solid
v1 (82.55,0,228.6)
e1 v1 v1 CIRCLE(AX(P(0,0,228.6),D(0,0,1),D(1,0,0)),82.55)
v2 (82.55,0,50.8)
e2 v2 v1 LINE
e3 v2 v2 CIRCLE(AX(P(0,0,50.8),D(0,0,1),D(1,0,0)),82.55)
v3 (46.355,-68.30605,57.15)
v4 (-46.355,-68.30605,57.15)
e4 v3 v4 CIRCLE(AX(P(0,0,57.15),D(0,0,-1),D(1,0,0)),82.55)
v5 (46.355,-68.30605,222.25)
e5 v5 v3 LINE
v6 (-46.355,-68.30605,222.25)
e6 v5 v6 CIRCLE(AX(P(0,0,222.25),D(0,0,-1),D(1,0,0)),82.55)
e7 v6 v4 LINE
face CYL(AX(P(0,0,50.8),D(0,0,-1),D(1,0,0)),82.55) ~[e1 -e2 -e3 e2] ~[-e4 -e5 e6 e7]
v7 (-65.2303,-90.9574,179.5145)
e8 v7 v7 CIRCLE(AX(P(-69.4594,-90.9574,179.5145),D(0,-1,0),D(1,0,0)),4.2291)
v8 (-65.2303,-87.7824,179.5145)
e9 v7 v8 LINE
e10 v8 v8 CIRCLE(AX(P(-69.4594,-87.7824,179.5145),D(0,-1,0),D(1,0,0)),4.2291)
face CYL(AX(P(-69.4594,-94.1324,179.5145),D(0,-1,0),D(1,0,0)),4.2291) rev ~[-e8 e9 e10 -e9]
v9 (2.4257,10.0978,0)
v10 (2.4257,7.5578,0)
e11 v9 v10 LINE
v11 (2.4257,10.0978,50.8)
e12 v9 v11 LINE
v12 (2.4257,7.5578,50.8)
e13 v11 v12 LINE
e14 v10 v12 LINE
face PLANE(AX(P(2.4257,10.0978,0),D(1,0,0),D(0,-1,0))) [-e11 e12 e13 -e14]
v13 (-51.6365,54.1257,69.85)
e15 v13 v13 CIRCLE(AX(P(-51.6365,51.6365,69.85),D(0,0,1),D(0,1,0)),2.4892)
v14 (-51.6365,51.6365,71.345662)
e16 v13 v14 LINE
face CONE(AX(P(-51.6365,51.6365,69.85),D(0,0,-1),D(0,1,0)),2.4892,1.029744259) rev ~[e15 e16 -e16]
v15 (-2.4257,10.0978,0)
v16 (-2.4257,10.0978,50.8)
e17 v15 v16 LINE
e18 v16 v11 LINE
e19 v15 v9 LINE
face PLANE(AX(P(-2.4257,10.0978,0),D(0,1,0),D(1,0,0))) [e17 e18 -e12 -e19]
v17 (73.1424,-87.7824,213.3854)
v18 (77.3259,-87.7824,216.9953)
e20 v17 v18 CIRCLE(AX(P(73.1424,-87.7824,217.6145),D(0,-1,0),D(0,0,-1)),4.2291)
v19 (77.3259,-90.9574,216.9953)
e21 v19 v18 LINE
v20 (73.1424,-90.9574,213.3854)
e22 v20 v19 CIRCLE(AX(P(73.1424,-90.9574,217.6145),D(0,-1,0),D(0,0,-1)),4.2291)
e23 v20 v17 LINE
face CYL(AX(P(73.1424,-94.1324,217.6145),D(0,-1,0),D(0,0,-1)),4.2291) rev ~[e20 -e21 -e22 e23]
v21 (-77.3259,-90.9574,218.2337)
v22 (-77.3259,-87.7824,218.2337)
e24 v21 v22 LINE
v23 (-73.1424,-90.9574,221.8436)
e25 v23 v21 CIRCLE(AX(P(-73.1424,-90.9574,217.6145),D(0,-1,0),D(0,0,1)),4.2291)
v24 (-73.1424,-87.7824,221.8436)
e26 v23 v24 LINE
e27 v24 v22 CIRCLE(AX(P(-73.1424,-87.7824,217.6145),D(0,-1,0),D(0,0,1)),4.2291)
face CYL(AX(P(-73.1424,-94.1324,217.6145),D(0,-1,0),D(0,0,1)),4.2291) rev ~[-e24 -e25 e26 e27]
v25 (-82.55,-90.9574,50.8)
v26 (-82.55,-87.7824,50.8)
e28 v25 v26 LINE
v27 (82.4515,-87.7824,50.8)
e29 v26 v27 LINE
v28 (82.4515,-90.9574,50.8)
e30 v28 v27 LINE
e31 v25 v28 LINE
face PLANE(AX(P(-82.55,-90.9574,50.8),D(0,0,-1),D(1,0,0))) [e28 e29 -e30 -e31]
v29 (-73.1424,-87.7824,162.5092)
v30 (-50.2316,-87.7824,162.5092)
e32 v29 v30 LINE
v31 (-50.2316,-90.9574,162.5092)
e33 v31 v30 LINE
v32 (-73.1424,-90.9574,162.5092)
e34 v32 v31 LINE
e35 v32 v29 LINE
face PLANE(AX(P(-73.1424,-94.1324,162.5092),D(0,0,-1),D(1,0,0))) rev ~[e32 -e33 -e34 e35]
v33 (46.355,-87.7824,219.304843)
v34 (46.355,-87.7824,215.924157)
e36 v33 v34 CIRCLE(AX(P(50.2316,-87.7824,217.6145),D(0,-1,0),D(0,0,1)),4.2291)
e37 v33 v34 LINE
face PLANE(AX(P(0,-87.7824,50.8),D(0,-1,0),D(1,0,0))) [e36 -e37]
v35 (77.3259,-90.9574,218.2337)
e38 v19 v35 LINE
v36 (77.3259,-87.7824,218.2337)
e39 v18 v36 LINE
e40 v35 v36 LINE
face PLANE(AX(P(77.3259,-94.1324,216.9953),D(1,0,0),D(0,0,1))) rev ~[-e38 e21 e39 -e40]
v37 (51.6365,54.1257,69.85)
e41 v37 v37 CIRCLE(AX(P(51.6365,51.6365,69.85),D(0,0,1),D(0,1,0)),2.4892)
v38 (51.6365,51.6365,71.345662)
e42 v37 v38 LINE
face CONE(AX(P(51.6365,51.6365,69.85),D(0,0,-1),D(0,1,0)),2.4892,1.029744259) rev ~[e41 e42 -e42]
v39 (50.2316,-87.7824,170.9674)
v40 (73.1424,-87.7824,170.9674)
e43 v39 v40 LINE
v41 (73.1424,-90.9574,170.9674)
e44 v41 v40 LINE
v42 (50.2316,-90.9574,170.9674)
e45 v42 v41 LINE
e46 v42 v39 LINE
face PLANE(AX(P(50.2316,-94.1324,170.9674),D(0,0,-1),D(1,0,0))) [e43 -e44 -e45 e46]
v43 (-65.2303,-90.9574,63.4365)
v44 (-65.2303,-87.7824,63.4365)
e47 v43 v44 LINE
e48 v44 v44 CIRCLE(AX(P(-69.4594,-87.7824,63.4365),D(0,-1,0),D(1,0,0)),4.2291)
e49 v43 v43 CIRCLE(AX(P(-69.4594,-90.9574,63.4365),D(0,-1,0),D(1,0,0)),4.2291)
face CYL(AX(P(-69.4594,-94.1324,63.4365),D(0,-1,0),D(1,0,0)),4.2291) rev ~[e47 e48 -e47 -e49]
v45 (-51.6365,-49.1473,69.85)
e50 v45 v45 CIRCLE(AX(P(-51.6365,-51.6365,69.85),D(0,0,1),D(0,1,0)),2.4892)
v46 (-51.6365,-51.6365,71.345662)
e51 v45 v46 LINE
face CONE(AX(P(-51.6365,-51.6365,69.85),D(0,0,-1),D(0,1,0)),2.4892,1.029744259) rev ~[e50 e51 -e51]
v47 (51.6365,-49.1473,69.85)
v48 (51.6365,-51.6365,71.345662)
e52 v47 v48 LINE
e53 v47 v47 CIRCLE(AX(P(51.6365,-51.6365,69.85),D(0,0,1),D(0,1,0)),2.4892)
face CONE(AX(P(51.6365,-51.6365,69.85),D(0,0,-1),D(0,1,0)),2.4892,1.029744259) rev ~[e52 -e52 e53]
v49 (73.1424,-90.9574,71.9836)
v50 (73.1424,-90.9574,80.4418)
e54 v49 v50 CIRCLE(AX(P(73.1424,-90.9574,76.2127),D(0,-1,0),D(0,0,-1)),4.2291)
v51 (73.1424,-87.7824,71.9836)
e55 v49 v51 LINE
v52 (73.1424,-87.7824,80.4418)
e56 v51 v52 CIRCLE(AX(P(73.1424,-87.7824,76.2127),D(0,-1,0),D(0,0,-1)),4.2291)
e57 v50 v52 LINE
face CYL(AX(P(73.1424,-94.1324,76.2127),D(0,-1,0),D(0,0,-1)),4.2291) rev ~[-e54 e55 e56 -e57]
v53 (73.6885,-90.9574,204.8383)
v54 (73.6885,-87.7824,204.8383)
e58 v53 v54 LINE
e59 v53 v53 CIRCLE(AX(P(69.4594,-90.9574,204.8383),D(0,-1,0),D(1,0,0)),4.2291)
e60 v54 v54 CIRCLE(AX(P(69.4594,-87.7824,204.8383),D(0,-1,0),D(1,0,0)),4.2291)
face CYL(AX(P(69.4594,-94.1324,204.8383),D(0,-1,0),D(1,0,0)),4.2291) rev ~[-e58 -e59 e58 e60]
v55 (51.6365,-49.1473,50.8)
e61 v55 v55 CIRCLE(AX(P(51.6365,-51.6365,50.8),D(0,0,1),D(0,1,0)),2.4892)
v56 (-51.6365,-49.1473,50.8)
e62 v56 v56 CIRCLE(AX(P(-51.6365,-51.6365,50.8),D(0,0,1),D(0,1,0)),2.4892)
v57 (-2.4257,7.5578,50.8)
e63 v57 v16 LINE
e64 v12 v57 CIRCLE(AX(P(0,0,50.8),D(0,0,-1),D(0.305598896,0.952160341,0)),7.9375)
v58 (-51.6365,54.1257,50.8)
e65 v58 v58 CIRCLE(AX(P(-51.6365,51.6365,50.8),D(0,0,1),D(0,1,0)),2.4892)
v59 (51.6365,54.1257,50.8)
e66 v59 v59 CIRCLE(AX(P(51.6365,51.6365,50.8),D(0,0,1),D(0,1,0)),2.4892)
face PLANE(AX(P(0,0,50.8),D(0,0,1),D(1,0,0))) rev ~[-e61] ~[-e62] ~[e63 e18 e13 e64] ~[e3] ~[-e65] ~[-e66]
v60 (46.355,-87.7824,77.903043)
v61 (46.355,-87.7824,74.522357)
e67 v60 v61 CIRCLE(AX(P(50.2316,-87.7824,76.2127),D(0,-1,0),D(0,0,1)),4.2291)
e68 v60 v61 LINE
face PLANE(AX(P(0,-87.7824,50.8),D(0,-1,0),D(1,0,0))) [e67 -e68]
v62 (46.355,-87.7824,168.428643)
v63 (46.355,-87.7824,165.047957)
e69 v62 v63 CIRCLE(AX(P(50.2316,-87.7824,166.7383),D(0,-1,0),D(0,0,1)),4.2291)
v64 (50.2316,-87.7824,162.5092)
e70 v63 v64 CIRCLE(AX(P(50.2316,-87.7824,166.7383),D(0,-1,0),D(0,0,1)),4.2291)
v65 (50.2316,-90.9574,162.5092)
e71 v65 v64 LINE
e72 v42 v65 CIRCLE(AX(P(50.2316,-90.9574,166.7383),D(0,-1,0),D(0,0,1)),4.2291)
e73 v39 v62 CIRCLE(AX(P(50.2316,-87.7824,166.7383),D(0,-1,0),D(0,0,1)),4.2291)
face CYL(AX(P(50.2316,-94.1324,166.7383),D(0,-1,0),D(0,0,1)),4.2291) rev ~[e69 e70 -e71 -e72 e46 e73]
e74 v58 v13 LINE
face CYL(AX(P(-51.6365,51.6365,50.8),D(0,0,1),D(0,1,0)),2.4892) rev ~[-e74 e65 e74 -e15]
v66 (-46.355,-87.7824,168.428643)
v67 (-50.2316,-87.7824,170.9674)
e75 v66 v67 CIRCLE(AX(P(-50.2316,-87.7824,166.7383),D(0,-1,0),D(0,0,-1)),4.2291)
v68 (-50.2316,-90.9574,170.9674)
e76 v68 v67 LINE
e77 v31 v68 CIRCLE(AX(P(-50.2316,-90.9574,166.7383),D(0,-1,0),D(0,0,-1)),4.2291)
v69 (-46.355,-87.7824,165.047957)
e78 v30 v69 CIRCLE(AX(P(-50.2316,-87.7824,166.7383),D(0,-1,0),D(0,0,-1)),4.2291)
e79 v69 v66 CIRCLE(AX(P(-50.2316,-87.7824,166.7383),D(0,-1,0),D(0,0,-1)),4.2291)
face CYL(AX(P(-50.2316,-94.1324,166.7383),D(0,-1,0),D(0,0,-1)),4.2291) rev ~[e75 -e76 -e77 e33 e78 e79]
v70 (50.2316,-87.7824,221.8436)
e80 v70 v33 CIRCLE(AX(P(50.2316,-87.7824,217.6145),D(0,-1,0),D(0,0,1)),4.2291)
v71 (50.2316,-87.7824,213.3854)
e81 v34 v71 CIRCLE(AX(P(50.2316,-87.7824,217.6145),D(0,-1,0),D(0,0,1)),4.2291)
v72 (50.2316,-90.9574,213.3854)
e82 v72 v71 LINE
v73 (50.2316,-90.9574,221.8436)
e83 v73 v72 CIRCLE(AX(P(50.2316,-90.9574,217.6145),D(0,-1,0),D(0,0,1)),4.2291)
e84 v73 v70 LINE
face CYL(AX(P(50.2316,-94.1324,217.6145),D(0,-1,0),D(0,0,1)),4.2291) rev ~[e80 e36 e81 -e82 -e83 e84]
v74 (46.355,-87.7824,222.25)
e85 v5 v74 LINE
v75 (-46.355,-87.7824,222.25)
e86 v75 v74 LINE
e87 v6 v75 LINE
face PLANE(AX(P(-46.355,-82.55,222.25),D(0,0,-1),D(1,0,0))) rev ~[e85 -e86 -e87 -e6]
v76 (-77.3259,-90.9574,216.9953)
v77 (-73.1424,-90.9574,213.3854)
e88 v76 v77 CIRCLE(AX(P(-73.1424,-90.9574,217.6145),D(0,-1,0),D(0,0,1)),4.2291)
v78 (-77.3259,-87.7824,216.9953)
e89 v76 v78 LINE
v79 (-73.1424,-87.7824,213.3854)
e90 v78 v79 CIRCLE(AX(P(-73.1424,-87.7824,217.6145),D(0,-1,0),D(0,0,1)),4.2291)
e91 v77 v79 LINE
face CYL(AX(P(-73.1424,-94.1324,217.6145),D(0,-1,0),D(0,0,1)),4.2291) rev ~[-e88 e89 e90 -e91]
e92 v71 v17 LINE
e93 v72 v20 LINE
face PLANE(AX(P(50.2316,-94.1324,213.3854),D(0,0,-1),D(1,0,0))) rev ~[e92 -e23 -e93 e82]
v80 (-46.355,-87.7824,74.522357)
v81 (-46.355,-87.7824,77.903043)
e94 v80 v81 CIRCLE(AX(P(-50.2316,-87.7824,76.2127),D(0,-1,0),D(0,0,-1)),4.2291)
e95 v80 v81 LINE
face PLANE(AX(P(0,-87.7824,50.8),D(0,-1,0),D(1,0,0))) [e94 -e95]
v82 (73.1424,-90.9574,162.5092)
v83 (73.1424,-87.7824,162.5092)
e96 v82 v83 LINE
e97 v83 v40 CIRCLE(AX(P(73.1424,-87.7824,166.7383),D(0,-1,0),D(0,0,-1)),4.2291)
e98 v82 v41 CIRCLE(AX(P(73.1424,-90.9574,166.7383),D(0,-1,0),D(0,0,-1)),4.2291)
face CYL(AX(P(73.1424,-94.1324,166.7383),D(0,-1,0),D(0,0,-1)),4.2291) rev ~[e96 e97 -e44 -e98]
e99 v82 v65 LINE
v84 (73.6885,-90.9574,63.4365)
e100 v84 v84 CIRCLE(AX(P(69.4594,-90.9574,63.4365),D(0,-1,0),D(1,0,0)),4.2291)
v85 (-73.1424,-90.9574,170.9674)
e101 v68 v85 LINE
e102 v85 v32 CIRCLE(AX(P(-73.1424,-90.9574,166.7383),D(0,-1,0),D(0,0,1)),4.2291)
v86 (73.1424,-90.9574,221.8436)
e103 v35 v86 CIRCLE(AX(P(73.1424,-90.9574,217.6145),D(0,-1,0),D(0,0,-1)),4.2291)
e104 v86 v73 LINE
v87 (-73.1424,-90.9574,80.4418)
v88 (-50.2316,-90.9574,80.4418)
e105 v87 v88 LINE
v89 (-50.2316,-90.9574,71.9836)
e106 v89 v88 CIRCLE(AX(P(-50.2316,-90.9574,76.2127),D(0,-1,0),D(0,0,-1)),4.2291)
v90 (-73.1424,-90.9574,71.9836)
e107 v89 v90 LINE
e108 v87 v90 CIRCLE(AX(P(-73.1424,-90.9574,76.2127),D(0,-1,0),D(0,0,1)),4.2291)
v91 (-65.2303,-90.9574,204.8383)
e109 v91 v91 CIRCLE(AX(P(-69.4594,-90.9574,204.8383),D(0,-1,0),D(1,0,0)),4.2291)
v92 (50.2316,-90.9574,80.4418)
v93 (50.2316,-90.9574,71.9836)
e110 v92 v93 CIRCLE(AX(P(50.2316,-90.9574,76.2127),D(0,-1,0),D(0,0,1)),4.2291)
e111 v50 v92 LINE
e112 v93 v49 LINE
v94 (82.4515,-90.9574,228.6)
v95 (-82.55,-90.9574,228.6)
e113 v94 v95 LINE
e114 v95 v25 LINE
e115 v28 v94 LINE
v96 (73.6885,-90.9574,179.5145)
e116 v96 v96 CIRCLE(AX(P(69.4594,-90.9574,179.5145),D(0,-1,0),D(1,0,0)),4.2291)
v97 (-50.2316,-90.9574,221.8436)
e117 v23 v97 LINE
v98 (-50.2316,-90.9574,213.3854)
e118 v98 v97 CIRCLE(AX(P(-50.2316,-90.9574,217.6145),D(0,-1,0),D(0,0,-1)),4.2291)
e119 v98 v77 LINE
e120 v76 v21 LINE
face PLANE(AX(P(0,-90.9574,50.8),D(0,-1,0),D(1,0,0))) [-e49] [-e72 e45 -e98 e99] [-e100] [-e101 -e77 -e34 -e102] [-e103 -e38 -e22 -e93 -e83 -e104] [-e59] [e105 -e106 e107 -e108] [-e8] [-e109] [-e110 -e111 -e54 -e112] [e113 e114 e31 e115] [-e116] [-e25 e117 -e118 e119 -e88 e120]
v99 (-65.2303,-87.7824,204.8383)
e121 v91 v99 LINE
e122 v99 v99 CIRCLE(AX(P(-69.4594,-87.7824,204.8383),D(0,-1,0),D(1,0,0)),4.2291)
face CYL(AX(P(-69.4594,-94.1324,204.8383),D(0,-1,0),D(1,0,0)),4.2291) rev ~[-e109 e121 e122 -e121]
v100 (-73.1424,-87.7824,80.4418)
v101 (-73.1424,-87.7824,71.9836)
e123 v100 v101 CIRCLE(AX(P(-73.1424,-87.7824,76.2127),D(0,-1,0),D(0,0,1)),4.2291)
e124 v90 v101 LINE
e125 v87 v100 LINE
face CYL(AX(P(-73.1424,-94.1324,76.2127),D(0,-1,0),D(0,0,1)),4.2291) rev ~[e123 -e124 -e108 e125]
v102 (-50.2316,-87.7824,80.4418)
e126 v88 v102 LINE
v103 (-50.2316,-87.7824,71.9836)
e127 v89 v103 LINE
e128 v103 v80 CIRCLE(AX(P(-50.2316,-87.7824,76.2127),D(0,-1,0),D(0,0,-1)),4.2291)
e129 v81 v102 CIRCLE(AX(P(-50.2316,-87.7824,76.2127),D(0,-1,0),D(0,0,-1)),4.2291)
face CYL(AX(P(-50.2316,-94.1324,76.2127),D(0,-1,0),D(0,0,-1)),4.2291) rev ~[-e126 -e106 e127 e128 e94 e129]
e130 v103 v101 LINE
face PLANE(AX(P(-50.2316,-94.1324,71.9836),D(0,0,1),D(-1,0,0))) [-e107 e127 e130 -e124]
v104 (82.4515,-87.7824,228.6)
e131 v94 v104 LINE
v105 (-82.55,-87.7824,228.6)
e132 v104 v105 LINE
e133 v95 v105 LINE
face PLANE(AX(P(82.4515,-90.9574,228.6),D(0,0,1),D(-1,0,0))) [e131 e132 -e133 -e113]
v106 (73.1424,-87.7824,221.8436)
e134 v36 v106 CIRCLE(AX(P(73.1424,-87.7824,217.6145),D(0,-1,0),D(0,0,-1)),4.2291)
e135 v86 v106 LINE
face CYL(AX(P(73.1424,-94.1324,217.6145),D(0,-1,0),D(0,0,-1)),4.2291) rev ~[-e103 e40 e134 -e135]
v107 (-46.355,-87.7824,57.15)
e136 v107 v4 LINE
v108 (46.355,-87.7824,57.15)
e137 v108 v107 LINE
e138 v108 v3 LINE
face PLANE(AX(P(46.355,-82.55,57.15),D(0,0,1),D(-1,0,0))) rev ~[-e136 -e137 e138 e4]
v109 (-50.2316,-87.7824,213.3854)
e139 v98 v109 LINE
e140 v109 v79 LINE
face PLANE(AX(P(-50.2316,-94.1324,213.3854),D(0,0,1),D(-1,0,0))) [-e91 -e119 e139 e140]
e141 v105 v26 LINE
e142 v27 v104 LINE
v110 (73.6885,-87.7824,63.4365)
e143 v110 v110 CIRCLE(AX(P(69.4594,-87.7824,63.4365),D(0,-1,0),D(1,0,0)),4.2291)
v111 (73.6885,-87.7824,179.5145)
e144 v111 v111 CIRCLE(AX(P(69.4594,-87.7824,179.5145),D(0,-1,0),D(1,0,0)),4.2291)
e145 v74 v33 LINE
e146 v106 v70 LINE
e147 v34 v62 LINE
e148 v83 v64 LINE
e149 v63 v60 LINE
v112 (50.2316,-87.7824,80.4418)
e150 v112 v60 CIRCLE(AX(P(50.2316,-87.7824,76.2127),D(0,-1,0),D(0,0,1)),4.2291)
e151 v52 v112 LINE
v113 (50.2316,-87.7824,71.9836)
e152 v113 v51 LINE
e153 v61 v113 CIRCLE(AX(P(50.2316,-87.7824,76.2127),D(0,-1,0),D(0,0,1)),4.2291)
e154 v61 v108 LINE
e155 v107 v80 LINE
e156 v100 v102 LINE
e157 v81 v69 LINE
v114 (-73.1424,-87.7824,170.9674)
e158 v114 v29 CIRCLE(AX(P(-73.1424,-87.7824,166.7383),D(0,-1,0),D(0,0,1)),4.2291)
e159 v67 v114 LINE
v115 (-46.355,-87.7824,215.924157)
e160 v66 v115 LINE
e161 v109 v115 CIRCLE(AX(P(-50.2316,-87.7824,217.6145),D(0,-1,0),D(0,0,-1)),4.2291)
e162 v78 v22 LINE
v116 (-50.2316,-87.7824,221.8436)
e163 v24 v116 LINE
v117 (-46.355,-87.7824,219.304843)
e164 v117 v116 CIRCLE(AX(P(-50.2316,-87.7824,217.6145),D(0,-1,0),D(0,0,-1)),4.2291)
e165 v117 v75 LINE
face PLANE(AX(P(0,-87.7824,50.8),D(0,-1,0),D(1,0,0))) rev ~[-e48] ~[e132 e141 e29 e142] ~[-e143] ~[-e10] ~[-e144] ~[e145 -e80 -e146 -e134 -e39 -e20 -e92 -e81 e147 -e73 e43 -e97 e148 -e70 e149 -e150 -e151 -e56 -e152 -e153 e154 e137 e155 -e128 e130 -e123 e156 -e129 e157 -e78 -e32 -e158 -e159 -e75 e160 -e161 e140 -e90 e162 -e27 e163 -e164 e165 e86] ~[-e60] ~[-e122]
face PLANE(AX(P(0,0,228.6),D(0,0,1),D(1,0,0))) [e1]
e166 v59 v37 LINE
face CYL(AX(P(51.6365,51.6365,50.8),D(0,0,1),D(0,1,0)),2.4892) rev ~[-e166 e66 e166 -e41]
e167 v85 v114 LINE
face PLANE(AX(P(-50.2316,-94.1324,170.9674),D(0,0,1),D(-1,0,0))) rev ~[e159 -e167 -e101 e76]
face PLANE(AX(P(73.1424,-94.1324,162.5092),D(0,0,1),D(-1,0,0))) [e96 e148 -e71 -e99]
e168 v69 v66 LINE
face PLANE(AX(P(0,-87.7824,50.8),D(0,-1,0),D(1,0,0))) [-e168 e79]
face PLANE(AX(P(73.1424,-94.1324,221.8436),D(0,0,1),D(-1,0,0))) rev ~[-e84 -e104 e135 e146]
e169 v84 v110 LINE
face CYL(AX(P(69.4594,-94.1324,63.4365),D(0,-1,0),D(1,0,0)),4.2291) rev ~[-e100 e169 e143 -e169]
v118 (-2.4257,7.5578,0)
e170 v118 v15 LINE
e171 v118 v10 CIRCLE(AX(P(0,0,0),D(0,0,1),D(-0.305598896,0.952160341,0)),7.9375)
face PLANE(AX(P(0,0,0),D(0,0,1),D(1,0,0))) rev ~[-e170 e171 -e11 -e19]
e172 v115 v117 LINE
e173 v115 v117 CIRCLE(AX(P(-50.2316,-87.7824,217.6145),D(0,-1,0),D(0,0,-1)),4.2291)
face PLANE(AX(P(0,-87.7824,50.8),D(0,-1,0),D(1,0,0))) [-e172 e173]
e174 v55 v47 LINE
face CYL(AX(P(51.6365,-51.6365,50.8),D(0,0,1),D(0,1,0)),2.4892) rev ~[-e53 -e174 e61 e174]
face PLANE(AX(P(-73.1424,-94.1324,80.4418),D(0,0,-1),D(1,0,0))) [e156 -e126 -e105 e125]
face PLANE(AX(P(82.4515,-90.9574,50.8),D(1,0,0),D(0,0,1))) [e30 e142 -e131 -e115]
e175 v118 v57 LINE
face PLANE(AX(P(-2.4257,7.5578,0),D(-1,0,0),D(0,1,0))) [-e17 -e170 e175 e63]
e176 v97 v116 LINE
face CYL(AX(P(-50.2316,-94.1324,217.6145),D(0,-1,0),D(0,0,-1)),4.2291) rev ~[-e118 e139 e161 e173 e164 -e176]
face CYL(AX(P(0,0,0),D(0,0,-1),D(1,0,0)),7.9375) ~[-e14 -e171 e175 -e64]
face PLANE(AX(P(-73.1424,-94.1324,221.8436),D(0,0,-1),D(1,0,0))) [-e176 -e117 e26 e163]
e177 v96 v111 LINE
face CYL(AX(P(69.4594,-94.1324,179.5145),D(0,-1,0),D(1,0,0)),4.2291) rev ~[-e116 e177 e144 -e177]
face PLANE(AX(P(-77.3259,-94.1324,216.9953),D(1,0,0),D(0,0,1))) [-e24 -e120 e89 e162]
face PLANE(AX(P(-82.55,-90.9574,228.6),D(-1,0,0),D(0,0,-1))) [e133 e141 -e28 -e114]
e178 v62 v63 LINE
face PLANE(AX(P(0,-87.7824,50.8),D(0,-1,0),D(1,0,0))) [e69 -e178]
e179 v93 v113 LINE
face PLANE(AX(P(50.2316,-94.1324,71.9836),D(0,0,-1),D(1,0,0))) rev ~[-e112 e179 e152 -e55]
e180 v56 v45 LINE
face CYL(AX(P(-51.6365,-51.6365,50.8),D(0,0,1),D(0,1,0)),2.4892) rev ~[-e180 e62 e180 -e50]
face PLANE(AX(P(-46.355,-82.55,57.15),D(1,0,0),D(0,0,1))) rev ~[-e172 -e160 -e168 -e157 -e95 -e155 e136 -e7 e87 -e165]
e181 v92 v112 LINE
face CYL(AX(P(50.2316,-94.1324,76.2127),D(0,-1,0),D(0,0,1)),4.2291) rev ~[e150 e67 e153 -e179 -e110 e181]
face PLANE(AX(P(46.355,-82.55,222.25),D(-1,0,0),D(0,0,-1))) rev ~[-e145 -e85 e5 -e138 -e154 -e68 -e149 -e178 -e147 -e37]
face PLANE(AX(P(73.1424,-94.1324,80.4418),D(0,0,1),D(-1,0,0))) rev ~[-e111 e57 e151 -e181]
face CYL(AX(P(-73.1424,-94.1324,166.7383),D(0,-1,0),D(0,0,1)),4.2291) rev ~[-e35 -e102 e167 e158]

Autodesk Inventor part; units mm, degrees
ref_plane "YZ Plane" through (0, 0, 0) normal (1, 0, 0) x (0, 1, 0)
ref_plane "XZ Plane" through (0, 0, 0) normal (0, 1, 0) x (-1, 0, 0)
ref_plane "XY Plane" through (0, 0, 0) normal (0, 0, 1) x (1, 0, 0)
sketch "Sketch1" plane through (0, 0, 0) normal (0, 0, 1) x (1, 0, 0)
  circle A0 centre (0, 0) radius 7.9375
  line L0 (-2.4257, 7.5578) -> (-2.4257, 10.0978)
  line L1 (-2.4257, 10.0978) -> (2.4257, 10.0978)
  line L2 (2.4257, 10.0978) -> (2.4257, 7.5578)
  point P0 (0, 10.0978)
  dimension "d0" = 15.875
  dimension "d1" = 2.54
  dimension "d2" = 4.8514
extrude "Extrusion1" add sketch "Sketch1" along normal blind 50.8
sketch "Sketch2" plane through (0, 0, 50.8) normal (0, 0, 1) x (1, 0, 0)
  circle A0 centre (0, 0) radius 82.55
  dimension "d5" = 165.1
extrude "Extrusion2" add sketch "Sketch2" along normal blind 177.8
sketch "Sketch3" plane through (0, 0, 50.8) normal (0, 0, -1) x (-1, 0, 0)
  circle A0 centre (0, 0) radius 73.025
  arc A1 (-2.4257, 7.5578) -> (2.4257, 7.5578) centre (0, 0) ccw projected
  line L0 (0, 0) -> (51.6365, 51.6365)
  line L1 (0, 0) -> (73.025, 0) construction
  line L2 (0, 0) -> (51.6365, -51.6365)
  line L3 (0, 0) -> (73.025, 0) construction
  line L4 (0, 0) -> (-51.6365, 51.6365)
  line L5 (0, 0) -> (73.025, 0) construction
  line L6 (0, 0) -> (-51.6365, -51.6365)
  line L7 (0, 0) -> (73.025, 0) construction
  dimension "d8" = 146.05
  dimension "d9" = 45
  dimension "d10" = 45
  dimension "d11" = 135
  dimension "d12" = 135
hole "Hole1" at (51.6365, 51.6365, 50.8) at (-51.6365, 51.6365, 50.8) at (-51.6365, -51.6365, 50.8) at (51.6365, -51.6365, 50.8) direction (0, 0, 1) diameter 4.9784 depth 19.05 tip angle 118 thread size "1/4-20 UNC" class "2B" standard "ANSI Unified Screw Threads"
ref_plane "Work Plane2" through (0, -82.55, 50.8) normal (0, 1, 0) x (-1, 0, 0)
sketch "Sketch4" plane through (0, -82.55, 50.8) normal (0, 1, 0) x (-1, 0, 0)
  line L0 (82.55, 177.8) -> (-82.55, 177.8) projected
  line L1 (-82.55, 0) -> (82.55, 0) projected
  line L2 (82.55, 0) -> (82.55, 177.8) projected
  line L3 (-82.55, 0) -> (-82.55, 177.8) projected
  line L4 (-46.355, 6.35) -> (46.355, 6.35)
  line L5 (46.355, 6.35) -> (46.355, 171.45)
  line L6 (46.355, 171.45) -> (-46.355, 171.45)
  line L7 (-46.355, 171.45) -> (-46.355, 6.35)
  point P0 (0, -50.8)
  point P1 (0, 6.35)
  dimension "d20" = 165.1
  dimension "d21" = 6.35
  dimension "d22" = 92.71
extrude "Extrusion3" add sketch "Sketch4" along normal blind 25.4 and the other way blind 5.2324 contours L7 L6 L5 L4
ref_plane "Work Plane7" through (0, -90.9574, 50.8) normal (0, -1, 0) x (1, 0, 0)
sketch "Sketch5" plane through (0, -90.9574, 50.8) normal (0, -1, 0) x (1, 0, 0)
  line L0 (82.55, 177.8) -> (-82.55, 177.8) projected
  line L1 (-82.55, 0) -> (82.55, 0) projected
  line L2 (82.4515, 177.8) -> (-82.55, 177.8)
  line L3 (-82.55, 177.8) -> (-82.55, 0)
  line L4 (-82.55, 0) -> (82.4515, 0)
  line L5 (82.4515, 0) -> (82.4515, 177.8)
  point P0 (0, -50.8)
extrude "Extrusion4" add sketch "Sketch5" against normal blind 3.175
ref_plane "Work Plane9" through (0, -94.1324, 50.8) normal (0, -1, 0) x (1, 0, 0)
sketch "Sketch6" plane through (0, -94.1324, 50.8) normal (0, -1, 0) x (1, 0, 0)
  circle A0 centre (69.4594, 154.0383) radius 4.2291
  line L0 (82.4515, 0) -> (82.4515, 177.8) projected
  line L1 (82.4515, 177.8) -> (-82.55, 177.8) projected
  line L2 (73.1424, 171.0436) -> (50.2316, 171.0436)
  line L3 (50.2316, 162.5854) -> (73.1424, 162.5854)
  line L4 (77.3259, 166.1953) -> (77.3259, 167.4337)
  arc A1 (73.1424, 162.5854) -> (73.1424, 171.0436) centre (73.1424, 166.8145) ccw
  arc A2 (50.2316, 171.0436) -> (50.2316, 162.5854) centre (50.2316, 166.8145) ccw
  line L5 (82.55, 177.8) -> (-82.55, 177.8) projected
  line L6 (-2.4257, -50.8) -> (-2.4257, 0) projected
  circle A3 centre (69.4594, 128.7145) radius 4.2291
  line L7 (73.1424, 111.7092) -> (50.2316, 111.7092)
  line L8 (50.2316, 120.1674) -> (73.1424, 120.1674)
  arc A4 (73.1424, 111.7092) -> (73.1424, 120.1674) centre (73.1424, 115.9383) ccw
  arc A5 (50.2316, 120.1674) -> (50.2316, 111.7092) centre (50.2316, 115.9383) ccw
  arc A6 (73.1424, 21.1836) -> (73.1424, 29.6418) centre (73.1424, 25.4127) ccw
  line L9 (50.2316, 21.1836) -> (73.1424, 21.1836)
  line L10 (73.1424, 29.6418) -> (50.2316, 29.6418)
  arc A7 (50.2316, 29.6418) -> (50.2316, 21.1836) centre (50.2316, 25.4127) ccw
  circle A8 centre (69.4594, 12.6365) radius 4.2291
  line L11 (-82.55, 0) -> (82.4515, 0) projected
  circle A9 centre (-69.4594, 154.0383) radius 4.2291
  line L12 (-73.1424, 171.0436) -> (-50.2316, 171.0436)
  line L13 (-50.2316, 162.5854) -> (-73.1424, 162.5854)
  line L14 (-77.3259, 166.1953) -> (-77.3259, 167.4337)
  arc A10 (-73.1424, 171.0436) -> (-73.1424, 162.5854) centre (-73.1424, 166.8145) ccw
  arc A11 (-50.2316, 162.5854) -> (-50.2316, 171.0436) centre (-50.2316, 166.8145) ccw
  arc A12 (-73.1424, 120.1674) -> (-73.1424, 111.7092) centre (-73.1424, 115.9383) ccw
  line L15 (-50.2316, 120.1674) -> (-73.1424, 120.1674)
  line L16 (-73.1424, 111.7092) -> (-50.2316, 111.7092)
  arc A13 (-50.2316, 111.7092) -> (-50.2316, 120.1674) centre (-50.2316, 115.9383) ccw
  circle A14 centre (-69.4594, 128.7145) radius 4.2291
  circle A15 centre (-69.4594, 12.6365) radius 4.2291
  line L17 (-50.2316, 21.1836) -> (-73.1424, 21.1836)
  line L18 (-73.1424, 29.6418) -> (-50.2316, 29.6418)
  arc A16 (-73.1424, 29.6418) -> (-73.1424, 21.1836) centre (-73.1424, 25.4127) ccw
  arc A17 (-50.2316, 21.1836) -> (-50.2316, 29.6418) centre (-50.2316, 25.4127) ccw
  point P0 (0, -50.8)
  dimension "d31" = 8.4582
  dimension "d32" = 12.9921
  dimension "d33" = 23.7617
  dimension "d38" = 8.4582
  dimension "d39" = 8.4582
  dimension "d40" = 22.9108
  dimension "d41" = 8.4582
  dimension "d46" = 6.7564
  dimension "d47" = 9.3091
  dimension "d50" = 12.6365
  dimension "d51" = 8.5471
extrude "Extrusion5" cut sketch "Sketch6" against normal blind 6.35 contours A0 | A1 L4 L3 A2 L2 | A3 | L7 A5 L8 A4 | L9 A7 L10 A6 | A8 | A9 | L12 A11 L13 A10 L14 | L15 A13 L16 A12 | A14 | A15 | L17 A16 L18 A17
sketch "Sketch7" plane through (0, -87.7824, 50.8) normal (0, -1, 0) x (1, 0, 0)
  point P0 (0, -50.8)
equation "\"d3\" = ShaftL"
equation "\"d5\" = MotoD"
equation "\"d6\" = MotoL"
equation "\"ShaftL\" = 50.8"
equation "\"MotoD\" = 165.1"
equation "\"MotoL\" = 177.8"
properties part number "Motor5"
